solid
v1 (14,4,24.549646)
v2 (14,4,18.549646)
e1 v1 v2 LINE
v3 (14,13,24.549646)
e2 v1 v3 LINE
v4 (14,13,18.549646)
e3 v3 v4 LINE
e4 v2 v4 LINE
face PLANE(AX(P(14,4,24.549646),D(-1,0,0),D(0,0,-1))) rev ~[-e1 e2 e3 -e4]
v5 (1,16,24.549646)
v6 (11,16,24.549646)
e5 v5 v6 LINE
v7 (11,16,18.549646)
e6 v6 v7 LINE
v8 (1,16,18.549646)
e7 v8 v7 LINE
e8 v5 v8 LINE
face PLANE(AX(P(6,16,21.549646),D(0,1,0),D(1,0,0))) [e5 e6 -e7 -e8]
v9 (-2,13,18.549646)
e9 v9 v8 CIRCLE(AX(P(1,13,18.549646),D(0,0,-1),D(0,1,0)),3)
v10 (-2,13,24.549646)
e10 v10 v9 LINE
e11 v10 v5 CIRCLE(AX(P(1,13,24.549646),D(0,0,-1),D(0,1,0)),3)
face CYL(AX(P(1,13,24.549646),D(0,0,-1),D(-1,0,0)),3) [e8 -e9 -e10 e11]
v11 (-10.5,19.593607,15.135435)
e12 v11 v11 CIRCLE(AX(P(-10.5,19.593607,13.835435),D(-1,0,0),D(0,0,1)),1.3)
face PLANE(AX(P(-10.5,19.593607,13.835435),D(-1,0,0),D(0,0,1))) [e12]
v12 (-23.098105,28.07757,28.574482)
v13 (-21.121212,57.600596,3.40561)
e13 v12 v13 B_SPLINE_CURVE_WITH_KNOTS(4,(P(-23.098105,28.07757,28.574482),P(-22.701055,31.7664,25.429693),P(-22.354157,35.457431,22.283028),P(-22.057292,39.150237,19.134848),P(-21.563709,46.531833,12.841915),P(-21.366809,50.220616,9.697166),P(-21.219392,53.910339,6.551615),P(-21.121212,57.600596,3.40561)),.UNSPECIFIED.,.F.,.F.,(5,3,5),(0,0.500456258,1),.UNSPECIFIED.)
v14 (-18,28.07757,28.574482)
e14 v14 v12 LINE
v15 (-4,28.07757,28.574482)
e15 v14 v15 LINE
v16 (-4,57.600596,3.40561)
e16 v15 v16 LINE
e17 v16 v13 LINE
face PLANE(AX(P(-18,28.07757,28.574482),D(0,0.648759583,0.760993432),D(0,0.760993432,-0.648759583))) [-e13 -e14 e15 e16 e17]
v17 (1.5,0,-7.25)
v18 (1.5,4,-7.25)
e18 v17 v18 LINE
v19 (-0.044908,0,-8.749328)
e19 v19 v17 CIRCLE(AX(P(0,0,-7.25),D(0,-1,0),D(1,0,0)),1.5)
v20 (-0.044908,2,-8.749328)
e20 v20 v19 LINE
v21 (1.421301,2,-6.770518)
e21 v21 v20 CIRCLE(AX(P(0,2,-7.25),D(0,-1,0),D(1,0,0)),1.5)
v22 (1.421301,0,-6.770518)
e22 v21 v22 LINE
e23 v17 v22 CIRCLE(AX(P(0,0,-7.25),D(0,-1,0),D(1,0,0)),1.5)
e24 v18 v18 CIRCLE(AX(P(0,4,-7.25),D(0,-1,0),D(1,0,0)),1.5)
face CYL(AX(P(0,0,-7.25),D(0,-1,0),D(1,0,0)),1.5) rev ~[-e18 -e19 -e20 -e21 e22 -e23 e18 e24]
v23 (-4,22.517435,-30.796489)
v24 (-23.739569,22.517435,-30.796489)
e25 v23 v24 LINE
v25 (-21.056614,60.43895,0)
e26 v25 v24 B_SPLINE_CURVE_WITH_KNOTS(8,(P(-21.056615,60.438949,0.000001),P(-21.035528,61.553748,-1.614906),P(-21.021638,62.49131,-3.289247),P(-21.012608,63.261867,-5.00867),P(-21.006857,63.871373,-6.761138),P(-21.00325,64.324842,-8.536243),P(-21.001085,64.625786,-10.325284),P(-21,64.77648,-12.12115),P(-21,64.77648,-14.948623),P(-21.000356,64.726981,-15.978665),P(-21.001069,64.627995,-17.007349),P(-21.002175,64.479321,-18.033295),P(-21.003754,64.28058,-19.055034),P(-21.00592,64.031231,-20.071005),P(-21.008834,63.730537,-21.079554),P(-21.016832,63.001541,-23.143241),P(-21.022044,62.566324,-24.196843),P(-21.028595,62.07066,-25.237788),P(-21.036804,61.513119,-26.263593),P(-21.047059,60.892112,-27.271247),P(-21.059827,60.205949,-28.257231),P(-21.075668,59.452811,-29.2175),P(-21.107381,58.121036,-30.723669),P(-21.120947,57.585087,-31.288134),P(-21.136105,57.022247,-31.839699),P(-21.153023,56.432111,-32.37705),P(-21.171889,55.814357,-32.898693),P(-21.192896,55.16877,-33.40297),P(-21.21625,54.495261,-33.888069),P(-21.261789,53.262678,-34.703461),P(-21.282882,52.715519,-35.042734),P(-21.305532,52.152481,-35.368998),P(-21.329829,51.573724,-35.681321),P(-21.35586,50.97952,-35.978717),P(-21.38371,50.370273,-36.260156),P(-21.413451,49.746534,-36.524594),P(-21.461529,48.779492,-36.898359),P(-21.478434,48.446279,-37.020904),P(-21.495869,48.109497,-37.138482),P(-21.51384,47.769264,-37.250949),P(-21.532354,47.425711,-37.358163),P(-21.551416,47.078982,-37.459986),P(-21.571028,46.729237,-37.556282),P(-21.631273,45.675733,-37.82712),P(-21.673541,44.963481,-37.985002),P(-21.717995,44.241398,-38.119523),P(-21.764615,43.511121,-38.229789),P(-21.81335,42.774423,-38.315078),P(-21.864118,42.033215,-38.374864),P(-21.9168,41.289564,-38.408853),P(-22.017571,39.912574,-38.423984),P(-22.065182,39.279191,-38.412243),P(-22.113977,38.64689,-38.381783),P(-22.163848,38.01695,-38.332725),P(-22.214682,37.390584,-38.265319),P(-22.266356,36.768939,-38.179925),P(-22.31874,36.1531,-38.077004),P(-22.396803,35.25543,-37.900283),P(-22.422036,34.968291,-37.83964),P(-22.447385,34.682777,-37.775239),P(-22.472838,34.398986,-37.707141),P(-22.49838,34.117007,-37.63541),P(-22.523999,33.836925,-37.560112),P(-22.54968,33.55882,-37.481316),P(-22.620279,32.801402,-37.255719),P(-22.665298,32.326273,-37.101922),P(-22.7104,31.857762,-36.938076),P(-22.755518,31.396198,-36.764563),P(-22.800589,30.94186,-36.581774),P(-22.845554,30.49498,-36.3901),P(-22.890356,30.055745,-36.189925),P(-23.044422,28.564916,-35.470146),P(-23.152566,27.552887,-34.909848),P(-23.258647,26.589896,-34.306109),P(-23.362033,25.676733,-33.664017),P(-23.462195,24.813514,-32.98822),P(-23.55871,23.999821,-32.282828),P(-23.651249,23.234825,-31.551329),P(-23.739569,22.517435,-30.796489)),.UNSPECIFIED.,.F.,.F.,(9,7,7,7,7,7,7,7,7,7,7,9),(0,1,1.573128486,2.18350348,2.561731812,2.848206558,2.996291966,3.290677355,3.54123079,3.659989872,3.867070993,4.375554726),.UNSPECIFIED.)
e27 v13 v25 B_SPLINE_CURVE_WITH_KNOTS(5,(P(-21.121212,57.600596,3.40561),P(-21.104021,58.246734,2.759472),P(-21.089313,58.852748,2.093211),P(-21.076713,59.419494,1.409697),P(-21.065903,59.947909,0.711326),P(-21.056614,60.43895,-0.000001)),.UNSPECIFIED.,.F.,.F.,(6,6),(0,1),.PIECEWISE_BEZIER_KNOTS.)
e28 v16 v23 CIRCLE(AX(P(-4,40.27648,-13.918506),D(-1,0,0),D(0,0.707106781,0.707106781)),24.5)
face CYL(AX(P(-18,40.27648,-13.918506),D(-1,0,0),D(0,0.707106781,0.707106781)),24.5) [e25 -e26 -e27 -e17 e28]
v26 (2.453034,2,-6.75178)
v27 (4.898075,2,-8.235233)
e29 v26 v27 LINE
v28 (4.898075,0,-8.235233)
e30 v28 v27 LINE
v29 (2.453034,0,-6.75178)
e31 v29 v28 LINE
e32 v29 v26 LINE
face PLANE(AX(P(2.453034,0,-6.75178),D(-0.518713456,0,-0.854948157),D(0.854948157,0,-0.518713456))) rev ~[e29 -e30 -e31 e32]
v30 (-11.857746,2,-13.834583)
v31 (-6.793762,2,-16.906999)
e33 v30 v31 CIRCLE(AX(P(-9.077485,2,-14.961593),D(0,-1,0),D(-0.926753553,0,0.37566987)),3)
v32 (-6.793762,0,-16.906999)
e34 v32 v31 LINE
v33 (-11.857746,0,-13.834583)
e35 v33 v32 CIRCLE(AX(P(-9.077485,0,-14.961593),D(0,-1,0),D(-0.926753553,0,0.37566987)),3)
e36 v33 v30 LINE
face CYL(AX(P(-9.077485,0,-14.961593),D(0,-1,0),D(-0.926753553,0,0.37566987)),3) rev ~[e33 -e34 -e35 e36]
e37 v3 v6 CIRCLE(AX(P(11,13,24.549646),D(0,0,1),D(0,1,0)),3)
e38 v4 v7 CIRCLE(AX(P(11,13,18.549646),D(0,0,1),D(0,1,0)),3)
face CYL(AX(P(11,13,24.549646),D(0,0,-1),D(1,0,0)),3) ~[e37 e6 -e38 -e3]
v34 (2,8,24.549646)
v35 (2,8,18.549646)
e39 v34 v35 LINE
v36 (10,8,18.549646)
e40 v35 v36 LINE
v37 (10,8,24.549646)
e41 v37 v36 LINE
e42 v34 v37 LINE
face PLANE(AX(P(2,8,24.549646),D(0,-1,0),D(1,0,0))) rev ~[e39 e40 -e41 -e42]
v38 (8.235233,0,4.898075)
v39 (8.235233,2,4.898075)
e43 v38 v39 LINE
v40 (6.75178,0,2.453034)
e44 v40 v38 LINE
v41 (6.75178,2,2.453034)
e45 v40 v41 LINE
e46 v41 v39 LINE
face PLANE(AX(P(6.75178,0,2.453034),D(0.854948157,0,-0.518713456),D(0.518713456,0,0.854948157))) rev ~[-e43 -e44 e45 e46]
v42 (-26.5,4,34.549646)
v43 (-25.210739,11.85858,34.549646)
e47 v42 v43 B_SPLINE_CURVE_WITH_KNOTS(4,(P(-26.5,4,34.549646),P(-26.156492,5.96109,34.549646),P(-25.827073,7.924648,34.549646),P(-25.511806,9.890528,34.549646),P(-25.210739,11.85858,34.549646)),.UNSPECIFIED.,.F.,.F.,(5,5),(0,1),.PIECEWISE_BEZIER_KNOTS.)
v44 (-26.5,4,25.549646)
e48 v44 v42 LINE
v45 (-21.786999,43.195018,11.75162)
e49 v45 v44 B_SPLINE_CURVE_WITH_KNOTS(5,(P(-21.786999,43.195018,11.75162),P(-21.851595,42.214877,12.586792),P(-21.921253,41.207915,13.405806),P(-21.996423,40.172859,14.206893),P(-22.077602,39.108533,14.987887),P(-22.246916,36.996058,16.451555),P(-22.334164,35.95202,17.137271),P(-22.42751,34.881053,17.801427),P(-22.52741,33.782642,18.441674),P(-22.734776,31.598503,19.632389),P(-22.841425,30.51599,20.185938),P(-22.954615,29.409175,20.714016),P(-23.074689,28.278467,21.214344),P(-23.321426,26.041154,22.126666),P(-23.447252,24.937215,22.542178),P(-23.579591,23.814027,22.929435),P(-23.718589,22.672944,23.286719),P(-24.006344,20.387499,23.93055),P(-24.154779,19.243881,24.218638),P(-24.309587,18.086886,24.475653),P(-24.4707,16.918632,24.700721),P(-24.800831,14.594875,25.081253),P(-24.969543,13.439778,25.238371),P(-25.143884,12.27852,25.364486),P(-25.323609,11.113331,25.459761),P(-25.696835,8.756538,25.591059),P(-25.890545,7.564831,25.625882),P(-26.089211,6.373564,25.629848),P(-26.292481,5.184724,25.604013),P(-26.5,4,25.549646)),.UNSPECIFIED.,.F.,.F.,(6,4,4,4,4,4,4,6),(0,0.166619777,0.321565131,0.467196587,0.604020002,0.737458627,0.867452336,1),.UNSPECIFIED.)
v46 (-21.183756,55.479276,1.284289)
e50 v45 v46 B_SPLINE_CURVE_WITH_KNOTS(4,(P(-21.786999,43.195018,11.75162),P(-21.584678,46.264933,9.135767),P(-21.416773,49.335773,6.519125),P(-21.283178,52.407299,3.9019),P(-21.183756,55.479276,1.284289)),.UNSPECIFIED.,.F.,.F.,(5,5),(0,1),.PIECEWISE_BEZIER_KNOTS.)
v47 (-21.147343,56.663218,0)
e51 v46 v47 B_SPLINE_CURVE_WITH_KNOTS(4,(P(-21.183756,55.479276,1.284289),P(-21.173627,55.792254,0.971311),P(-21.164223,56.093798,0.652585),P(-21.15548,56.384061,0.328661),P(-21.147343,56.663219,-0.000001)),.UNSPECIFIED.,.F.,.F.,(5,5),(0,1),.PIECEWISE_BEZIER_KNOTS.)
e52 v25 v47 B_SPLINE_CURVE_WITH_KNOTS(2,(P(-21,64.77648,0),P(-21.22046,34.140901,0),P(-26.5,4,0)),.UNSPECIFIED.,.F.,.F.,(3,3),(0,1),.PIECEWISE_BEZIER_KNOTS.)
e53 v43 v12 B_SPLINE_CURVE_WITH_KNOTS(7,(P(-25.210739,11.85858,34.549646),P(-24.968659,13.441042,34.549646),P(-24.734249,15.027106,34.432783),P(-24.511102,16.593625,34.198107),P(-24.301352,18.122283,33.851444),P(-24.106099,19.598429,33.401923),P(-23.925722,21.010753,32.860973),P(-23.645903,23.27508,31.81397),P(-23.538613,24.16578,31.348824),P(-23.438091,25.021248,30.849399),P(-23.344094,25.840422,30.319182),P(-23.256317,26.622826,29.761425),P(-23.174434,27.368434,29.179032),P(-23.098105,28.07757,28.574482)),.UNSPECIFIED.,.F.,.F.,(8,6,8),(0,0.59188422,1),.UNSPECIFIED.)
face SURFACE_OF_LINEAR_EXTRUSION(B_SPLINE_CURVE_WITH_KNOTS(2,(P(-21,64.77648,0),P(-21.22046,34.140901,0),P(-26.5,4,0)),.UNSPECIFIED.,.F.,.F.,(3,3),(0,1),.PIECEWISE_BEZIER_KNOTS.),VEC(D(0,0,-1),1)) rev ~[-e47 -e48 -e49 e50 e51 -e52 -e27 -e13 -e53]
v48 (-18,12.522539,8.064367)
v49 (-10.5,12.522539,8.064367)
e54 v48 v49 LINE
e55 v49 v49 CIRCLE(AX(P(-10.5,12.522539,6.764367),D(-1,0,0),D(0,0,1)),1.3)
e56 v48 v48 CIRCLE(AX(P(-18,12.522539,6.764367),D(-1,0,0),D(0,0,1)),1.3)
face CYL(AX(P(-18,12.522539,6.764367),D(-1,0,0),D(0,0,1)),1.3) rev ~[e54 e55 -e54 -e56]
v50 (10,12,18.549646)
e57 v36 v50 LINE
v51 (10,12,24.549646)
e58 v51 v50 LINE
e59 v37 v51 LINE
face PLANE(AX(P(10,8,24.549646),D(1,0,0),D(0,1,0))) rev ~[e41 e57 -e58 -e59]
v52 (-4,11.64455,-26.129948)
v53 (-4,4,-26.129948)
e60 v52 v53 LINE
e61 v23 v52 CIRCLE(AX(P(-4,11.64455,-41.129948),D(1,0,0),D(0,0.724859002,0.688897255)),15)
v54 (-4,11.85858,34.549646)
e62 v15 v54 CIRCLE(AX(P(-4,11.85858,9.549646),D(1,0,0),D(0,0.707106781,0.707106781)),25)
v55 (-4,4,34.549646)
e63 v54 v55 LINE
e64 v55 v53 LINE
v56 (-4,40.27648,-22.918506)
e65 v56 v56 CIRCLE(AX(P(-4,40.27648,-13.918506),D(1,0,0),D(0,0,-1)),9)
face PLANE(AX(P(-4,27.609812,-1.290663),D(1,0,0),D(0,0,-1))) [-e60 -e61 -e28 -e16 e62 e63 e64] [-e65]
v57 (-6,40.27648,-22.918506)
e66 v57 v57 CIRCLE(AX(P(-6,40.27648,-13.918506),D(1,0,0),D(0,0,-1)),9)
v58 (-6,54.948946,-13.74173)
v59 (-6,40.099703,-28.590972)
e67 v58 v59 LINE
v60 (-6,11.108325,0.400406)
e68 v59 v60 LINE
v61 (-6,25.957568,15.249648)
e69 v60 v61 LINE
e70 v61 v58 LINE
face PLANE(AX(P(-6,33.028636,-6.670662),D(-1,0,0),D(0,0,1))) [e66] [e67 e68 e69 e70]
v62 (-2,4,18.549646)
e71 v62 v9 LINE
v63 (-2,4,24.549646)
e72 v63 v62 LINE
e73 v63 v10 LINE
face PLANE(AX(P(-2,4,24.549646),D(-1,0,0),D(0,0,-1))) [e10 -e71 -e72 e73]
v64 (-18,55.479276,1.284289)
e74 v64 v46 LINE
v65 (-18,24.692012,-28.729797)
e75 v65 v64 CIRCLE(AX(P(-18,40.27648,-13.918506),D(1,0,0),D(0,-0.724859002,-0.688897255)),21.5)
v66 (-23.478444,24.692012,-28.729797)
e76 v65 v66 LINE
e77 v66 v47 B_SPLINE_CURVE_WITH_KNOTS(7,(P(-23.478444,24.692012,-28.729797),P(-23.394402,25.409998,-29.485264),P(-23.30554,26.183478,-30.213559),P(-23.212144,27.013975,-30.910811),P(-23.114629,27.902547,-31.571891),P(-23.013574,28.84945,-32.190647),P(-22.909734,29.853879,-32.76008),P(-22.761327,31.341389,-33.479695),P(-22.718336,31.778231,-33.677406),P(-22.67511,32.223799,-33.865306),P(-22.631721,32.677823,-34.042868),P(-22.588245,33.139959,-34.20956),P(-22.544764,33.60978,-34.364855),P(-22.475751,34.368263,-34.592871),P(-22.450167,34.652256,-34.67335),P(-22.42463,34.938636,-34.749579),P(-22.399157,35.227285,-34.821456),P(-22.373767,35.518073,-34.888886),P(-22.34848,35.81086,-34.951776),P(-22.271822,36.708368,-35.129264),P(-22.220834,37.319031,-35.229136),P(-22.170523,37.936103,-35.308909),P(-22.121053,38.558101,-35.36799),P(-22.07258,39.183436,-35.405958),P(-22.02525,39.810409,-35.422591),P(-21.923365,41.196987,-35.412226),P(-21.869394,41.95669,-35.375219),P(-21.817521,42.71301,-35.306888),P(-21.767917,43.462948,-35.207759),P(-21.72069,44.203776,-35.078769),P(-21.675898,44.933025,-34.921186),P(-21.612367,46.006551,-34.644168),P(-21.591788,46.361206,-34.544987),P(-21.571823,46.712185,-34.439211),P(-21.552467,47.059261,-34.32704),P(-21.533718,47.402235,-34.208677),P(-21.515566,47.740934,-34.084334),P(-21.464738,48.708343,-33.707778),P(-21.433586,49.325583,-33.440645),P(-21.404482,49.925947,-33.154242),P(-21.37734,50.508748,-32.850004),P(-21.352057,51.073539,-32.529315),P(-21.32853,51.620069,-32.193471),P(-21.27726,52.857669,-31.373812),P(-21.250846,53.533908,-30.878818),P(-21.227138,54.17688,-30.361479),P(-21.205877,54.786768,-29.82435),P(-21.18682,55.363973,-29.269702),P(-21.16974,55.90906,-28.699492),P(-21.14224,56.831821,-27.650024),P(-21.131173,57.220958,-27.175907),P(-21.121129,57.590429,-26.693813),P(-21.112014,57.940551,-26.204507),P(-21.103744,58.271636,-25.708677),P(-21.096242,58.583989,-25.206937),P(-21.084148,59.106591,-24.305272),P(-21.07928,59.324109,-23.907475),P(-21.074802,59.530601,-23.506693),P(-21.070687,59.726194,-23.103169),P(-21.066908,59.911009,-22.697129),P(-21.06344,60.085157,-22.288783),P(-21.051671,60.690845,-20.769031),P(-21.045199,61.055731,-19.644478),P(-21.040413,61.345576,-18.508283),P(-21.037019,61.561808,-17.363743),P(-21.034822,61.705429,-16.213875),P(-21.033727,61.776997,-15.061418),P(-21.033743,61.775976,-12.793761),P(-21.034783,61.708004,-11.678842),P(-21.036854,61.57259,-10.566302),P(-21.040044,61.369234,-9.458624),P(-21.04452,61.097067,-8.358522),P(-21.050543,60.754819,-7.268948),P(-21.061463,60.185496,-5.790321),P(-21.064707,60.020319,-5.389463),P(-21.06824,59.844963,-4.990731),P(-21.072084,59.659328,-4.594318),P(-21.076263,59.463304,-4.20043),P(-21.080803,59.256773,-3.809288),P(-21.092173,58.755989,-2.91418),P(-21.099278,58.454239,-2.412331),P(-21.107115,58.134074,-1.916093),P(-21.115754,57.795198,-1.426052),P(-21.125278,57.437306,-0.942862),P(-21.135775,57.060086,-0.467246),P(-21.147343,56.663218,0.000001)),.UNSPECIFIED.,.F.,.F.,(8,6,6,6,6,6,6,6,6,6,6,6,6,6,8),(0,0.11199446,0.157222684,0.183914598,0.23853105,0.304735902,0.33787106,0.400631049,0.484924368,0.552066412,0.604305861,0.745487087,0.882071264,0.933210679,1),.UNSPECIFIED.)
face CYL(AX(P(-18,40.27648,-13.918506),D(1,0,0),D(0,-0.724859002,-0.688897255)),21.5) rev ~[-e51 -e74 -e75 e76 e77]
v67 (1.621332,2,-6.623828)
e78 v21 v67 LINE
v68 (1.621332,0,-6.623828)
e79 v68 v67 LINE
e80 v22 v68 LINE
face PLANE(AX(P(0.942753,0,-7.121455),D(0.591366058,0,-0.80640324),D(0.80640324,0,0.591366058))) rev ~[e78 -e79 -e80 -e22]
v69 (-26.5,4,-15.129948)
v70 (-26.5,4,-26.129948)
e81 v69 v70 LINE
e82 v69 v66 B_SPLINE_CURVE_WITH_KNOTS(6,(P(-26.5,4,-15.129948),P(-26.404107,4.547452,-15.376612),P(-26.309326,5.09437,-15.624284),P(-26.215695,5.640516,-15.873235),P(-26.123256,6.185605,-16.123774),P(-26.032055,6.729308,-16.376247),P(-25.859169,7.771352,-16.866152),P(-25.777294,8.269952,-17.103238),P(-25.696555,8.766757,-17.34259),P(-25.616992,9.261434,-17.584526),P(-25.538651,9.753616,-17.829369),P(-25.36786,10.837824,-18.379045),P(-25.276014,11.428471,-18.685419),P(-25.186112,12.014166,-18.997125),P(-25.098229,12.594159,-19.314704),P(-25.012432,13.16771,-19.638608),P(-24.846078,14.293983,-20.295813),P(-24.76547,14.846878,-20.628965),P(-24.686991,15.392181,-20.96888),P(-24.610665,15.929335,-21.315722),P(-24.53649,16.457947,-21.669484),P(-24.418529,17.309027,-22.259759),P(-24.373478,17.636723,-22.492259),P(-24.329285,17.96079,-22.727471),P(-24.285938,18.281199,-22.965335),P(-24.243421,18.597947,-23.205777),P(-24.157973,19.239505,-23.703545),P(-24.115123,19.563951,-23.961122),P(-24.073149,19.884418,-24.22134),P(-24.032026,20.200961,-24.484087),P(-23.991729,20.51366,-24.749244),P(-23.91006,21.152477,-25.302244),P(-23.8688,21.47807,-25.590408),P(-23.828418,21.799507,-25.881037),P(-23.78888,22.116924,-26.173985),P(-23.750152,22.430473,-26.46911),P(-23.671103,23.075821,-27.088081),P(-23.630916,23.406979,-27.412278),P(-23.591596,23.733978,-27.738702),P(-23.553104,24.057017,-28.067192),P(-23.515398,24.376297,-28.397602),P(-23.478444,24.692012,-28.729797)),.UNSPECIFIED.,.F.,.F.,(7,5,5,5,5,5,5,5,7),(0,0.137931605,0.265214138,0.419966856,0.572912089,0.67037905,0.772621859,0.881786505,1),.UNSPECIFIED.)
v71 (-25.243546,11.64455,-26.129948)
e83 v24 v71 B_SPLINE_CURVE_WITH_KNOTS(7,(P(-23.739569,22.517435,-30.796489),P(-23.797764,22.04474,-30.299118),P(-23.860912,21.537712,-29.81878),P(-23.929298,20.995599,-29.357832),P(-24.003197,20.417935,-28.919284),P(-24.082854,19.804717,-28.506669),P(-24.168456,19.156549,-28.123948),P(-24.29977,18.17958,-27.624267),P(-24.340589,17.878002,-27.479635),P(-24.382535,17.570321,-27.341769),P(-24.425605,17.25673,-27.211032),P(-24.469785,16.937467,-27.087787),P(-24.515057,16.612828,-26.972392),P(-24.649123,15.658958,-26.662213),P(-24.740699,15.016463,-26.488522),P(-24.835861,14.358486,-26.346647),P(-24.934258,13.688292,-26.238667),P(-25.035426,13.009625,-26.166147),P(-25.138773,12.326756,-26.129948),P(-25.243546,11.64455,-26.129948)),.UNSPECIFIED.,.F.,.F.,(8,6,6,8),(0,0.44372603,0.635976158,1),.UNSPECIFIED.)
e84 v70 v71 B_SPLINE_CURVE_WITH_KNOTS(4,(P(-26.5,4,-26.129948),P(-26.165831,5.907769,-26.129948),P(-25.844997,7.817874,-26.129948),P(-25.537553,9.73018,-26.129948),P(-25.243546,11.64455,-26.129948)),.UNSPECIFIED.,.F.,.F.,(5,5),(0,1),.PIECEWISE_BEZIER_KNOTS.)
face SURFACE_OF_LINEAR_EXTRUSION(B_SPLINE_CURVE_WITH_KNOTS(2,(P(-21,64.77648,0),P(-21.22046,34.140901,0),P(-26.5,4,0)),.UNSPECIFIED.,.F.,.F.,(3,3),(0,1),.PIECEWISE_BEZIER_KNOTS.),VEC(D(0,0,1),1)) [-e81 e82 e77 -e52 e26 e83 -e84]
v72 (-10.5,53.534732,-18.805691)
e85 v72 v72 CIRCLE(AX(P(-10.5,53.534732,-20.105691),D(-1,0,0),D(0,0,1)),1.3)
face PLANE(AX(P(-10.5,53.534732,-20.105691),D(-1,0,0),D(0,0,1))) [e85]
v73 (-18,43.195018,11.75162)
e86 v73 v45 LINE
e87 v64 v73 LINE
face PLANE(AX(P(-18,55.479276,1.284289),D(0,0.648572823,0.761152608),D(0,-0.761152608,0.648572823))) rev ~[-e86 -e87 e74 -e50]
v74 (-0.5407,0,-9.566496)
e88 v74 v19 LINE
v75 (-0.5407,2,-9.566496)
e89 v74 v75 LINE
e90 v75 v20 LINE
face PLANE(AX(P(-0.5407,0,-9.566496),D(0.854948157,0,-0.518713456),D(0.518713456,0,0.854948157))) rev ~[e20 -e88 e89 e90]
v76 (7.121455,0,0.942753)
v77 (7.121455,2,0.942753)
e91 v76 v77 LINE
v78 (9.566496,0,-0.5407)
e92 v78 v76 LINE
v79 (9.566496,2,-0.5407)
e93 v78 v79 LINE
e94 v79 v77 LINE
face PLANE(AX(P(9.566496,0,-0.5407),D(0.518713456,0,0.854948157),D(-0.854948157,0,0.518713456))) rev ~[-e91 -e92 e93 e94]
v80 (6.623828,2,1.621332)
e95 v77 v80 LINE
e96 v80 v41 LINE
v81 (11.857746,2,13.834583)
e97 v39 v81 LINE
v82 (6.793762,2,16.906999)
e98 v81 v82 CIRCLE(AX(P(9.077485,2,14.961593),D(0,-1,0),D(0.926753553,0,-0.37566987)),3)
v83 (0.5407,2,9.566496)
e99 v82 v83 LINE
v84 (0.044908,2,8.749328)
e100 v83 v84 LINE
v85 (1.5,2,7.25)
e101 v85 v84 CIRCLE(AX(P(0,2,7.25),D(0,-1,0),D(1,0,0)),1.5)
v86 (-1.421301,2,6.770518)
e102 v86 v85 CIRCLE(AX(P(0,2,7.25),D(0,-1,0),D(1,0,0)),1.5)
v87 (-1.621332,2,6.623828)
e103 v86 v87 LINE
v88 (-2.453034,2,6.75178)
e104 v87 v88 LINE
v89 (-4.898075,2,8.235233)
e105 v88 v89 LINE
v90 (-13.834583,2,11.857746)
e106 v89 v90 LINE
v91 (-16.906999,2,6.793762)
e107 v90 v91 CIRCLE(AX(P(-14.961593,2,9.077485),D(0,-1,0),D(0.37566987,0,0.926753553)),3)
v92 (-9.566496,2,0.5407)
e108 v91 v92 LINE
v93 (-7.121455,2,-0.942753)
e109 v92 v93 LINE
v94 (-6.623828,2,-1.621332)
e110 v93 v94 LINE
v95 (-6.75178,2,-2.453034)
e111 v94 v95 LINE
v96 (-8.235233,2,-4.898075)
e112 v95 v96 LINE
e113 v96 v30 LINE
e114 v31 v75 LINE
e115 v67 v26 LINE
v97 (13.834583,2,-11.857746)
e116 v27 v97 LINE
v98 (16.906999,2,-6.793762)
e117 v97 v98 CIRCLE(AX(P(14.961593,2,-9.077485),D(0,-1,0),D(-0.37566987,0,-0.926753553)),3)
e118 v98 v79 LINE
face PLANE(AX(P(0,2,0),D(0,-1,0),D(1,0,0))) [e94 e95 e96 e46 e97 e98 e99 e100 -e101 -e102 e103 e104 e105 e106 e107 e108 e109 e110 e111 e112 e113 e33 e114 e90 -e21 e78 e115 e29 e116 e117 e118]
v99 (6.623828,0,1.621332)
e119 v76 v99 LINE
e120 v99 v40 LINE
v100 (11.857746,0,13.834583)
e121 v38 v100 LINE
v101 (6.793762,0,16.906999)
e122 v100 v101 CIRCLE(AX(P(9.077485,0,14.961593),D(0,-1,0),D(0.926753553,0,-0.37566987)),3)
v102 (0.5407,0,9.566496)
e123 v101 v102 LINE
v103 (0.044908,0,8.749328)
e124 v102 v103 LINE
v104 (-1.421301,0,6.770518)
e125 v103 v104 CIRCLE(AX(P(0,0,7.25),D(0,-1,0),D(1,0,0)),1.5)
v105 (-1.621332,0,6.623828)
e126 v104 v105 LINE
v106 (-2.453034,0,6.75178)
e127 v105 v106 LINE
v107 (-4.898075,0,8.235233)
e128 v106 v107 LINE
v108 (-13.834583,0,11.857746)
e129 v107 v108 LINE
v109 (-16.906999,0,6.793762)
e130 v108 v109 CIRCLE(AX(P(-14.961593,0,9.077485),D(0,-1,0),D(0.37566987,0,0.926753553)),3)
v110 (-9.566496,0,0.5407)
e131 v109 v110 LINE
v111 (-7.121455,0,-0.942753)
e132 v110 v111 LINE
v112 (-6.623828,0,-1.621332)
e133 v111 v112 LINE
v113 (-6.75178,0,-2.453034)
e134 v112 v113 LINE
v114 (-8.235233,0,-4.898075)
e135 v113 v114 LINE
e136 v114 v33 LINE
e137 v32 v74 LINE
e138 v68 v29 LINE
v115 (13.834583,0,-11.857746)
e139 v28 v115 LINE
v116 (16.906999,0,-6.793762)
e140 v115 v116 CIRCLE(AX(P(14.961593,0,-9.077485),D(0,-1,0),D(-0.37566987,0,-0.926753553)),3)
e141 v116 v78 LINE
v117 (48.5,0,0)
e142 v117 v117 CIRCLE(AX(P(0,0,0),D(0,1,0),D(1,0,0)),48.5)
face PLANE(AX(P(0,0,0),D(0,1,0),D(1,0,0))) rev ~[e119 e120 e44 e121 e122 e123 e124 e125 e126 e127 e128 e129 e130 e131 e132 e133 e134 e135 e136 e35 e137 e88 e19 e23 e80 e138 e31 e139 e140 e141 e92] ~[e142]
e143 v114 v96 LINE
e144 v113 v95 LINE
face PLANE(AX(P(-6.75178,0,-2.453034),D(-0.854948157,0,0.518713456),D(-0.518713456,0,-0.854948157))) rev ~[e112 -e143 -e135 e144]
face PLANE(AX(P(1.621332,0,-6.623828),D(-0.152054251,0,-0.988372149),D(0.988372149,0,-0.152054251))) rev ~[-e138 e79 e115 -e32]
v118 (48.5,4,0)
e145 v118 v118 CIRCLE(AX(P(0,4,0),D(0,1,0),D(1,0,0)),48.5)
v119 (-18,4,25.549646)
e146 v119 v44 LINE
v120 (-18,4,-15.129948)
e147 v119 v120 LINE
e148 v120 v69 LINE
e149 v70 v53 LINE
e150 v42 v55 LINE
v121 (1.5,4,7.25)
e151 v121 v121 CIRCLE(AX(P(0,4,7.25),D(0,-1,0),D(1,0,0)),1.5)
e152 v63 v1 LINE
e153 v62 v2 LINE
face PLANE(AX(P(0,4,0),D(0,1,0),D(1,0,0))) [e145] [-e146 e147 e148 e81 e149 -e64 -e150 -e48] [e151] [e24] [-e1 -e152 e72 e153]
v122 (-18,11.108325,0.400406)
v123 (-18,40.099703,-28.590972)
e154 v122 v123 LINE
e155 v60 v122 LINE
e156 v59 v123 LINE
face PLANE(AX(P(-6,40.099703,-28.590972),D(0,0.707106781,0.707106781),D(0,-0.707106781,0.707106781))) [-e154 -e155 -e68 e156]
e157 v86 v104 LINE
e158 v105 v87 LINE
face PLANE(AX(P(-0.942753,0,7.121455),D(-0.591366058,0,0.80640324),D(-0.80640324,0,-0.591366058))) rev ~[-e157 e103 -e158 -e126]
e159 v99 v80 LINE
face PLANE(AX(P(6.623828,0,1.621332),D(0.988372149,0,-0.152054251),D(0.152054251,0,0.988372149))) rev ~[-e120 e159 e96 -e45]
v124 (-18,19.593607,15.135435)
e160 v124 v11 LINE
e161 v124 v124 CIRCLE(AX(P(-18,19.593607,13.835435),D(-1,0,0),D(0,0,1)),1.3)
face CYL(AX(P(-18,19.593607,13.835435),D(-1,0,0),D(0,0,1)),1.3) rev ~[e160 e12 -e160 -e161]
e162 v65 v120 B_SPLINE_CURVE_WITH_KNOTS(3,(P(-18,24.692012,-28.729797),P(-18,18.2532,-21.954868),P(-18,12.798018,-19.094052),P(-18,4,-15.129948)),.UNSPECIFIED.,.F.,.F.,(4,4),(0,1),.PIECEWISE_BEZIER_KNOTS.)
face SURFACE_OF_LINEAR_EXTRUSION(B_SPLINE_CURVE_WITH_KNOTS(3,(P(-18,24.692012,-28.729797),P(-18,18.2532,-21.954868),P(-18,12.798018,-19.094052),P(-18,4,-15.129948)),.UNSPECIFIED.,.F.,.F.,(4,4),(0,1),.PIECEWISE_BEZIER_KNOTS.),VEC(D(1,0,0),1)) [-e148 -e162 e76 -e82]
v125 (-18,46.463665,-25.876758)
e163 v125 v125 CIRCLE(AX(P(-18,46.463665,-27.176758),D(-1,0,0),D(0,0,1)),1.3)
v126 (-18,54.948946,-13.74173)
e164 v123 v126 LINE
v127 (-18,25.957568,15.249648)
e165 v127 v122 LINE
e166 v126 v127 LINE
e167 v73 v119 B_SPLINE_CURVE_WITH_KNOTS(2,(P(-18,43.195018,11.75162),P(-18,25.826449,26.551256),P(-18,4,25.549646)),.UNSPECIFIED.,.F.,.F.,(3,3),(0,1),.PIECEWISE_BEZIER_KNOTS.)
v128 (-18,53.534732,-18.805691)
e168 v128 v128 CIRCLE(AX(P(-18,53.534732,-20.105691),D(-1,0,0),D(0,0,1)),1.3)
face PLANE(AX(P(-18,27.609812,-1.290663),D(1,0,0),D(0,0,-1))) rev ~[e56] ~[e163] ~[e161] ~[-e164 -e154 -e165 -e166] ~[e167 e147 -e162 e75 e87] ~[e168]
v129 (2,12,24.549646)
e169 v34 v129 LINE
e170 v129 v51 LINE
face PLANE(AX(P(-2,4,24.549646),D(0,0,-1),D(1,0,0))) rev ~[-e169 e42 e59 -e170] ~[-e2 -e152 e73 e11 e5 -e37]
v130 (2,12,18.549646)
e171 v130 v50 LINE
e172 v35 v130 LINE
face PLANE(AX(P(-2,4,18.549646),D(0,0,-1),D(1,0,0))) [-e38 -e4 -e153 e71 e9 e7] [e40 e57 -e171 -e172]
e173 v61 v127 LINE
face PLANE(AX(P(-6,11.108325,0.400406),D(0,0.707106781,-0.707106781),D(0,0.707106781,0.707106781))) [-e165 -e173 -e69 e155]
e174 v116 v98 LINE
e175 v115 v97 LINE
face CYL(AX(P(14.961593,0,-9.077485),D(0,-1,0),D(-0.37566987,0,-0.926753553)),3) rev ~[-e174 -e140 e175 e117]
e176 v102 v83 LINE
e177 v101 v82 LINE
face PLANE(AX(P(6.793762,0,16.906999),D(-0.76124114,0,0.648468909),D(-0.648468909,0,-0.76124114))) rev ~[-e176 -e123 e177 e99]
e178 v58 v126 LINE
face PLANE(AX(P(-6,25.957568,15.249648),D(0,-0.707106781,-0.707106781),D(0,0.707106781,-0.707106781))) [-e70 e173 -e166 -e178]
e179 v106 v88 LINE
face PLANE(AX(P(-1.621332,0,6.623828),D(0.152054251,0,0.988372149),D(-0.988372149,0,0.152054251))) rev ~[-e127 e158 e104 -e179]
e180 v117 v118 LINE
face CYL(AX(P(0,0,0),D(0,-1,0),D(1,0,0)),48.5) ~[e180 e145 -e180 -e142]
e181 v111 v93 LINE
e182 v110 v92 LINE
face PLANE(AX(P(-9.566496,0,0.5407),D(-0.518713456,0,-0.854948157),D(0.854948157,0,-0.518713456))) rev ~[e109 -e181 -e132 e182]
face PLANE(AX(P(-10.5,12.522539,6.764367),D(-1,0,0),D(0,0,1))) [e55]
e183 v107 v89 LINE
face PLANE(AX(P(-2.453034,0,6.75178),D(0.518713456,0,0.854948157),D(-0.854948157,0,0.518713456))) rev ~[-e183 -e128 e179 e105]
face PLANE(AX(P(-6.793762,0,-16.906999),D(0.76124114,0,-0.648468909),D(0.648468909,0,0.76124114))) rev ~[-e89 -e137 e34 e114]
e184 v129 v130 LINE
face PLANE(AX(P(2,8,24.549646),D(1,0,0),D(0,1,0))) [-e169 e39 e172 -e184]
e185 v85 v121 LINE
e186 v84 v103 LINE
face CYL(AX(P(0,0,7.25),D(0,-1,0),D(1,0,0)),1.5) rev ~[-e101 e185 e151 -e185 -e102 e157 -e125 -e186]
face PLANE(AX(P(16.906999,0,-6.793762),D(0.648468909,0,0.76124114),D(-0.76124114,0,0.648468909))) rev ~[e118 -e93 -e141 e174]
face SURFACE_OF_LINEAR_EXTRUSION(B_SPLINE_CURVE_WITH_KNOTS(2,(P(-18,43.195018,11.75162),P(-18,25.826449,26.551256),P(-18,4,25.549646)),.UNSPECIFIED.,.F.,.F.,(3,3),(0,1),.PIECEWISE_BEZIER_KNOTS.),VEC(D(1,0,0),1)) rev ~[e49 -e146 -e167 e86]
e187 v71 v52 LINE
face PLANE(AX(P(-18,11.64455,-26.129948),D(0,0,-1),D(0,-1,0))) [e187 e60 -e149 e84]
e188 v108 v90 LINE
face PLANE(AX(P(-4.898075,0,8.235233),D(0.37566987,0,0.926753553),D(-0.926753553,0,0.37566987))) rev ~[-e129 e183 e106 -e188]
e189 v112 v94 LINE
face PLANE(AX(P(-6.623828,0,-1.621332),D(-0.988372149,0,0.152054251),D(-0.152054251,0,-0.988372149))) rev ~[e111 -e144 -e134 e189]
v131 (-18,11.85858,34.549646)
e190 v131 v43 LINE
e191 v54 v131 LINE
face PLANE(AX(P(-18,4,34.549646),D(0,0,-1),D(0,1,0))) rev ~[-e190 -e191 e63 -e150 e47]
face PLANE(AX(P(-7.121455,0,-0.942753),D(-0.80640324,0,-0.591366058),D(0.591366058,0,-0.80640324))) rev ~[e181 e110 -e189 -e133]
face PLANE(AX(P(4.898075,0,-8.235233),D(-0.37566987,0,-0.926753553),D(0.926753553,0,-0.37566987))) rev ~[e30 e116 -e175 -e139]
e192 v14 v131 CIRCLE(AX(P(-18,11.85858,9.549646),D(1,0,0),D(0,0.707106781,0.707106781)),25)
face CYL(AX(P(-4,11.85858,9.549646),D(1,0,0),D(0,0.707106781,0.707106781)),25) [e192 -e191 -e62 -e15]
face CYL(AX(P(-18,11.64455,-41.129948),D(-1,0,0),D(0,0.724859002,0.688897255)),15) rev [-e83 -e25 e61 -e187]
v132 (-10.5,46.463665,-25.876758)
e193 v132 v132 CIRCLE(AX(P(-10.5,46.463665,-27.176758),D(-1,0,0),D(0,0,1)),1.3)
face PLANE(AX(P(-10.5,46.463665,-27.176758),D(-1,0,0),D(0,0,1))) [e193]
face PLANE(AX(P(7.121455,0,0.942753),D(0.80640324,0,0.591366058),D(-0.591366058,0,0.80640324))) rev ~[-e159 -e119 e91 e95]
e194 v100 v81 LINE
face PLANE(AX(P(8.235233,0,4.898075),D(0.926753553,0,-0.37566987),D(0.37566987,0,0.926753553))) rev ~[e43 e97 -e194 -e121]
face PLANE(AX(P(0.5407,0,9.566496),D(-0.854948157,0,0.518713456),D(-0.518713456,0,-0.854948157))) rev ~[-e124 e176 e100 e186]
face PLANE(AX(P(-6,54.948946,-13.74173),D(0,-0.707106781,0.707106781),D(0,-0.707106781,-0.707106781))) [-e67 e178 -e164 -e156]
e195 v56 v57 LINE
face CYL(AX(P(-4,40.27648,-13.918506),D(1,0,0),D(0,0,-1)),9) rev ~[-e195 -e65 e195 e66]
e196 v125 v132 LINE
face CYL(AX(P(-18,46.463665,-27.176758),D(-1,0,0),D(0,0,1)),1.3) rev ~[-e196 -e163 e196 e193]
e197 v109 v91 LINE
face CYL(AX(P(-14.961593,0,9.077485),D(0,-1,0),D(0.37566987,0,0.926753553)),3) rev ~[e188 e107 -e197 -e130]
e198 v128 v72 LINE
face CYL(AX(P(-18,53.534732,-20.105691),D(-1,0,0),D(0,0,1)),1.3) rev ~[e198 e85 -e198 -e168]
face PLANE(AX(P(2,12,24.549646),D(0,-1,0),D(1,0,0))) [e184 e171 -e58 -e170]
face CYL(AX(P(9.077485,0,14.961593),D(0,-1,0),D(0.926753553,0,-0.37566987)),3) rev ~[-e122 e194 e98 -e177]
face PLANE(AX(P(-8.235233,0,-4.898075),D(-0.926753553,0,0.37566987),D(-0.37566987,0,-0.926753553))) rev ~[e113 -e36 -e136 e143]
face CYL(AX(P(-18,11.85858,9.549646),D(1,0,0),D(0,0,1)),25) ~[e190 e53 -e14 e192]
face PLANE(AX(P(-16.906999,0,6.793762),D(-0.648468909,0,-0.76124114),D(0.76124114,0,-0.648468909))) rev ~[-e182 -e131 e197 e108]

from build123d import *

# Parameters (mm, degrees)
SKETCH2_R                = 48.5
BOSS_EXTRUDE1_DEPTH      = 4
SKETCH4_R                = 1.5
CUT_EXTRUDE2_DEPTH       = 5
SKETCH5_R                = 3.75
CUT_EXTRUDE3_DEPTH       = 1.5
BOSS_EXTRUDE2_DEPTH      = 14
CUT_EXTRUDE5_REACH       = 44.5
SKETCH9_R                = 1.3
CUT_EXTRUDE6_DEPTH       = 7.5
CUT_EXTRUDE9_REACH       = 46.5
SKETCH11_R               = 9
BOSS_EXTRUDE7_DEPTH      = 9
BOSS_EXTRUDE7_DEPTH_BACK = 14
BOSS_EXTRUDE10_DEPTH     = 9
SKETCH27_W               = 16
SKETCH27_H               = 6
BOSS_EXTRUDE11_DEPTH     = 12
FILLET6_R                = 3
CUT_EXTRUDE16_REACH      = 75.05
SKETCH28_W               = 8
SKETCH28_H               = 4
CUT_EXTRUDE17_DEPTH      = 49.5
CUT_EXTRUDE17_DEPTH_BACK = 49.5
CUT_EXTRUDE19_DEPTH      = 2


with BuildPart() as part:
    # Sketch2 → Boss-Extrude1 (new body)
    with BuildSketch(Plane(origin=(0, 0, 0), x_dir=(1, 0, 0), z_dir=(0, 1, 0))):
        Circle(SKETCH2_R)
    extrude(amount=BOSS_EXTRUDE1_DEPTH)

    # Sketch4 → Cut-Extrude2 (cut, through all)
    with BuildSketch(Plane.XZ):
        with Locations((0, 7.25)):
            Circle(SKETCH4_R)
        with Locations((0, -7.25)):
            Circle(SKETCH4_R)
    extrude(amount=-CUT_EXTRUDE2_DEPTH, mode=Mode.SUBTRACT)

    # Sketch5 → Cut-Extrude3 (cut)
    with BuildSketch(Plane.XZ):
        Circle(SKETCH5_R)
    extrude(amount=-CUT_EXTRUDE3_DEPTH, mode=Mode.SUBTRACT)

    # Sketch7 → Boss-Extrude2 (add)
    with BuildSketch(Plane(origin=(-4, 0, 0), x_dir=(0, 0, -1), z_dir=(1, 0, 0))):
        with BuildLine():
            Line((23.129947874, 4), (23.129947874, 11.644549616))
            ThreePointArc((23.129947874, 11.644549616), (24.589048403, 18.743749901), (28.729797284, 24.692011643))
            ThreePointArc((28.729797284, 24.692011643), (29.313383054, 55.284736897), (-1.284289494, 55.479275971))
            Line((-1.284289494, 55.479275971), (-27.227315747, 29.536249718))
            ThreePointArc((-27.227315747, 29.536249718), (-32.64663453, 21.425665997), (-34.549646217, 11.858580188))
            Line((-34.549646217, 11.858580188), (-34.549646217, 4))
            Line((-34.549646217, 4), (23.129947874, 4))
        make_face()
    extrude(amount=-BOSS_EXTRUDE2_DEPTH)

    # Sketch8 → Cut-Extrude5 (cut, up to next)
    with BuildSketch(Plane(origin=(-6, 0, 0), x_dir=(0, 0, -1), z_dir=(1, 0, 0)), mode=Mode.PRIVATE) as cut_extrude5_sk1:
        Polygon((-15.249648422, 25.957567857), (13.741729607, 54.948945886), (28.590972012, 40.099703481), (-0.400406017, 11.108325452), align=None)
    cut_extrude5_tool1 = extrude(cut_extrude5_sk1.sketch, amount=-CUT_EXTRUDE5_REACH, mode=Mode.PRIVATE) & part.part
    add(cut_extrude5_tool1.solids().sort_by_distance((-6, 33.028636, -6.670662))[0], mode=Mode.SUBTRACT)

    # Sketch9 → Cut-Extrude6 (cut)
    with BuildSketch(Plane.ZY.offset(18)):
        with Locations((-20.105690637, 53.534732323)):
            Circle(SKETCH9_R)
        with Locations((-27.176758449, 46.463664511)):
            Circle(SKETCH9_R)
        with Locations((6.764367048, 12.522539014)):
            Circle(SKETCH9_R)
        with Locations((13.83543486, 19.593606826)):
            Circle(SKETCH9_R)
    extrude(amount=-CUT_EXTRUDE6_DEPTH, mode=Mode.SUBTRACT)

    # Sketch11 → Cut-Extrude9 (cut, up to next)
    with BuildSketch(Plane(origin=(-4, 0, 0), x_dir=(0, 0, -1), z_dir=(1, 0, 0)), mode=Mode.PRIVATE) as cut_extrude9_sk1:
        with Locations((13.918506302, 40.276480176)):
            Circle(SKETCH11_R)
    cut_extrude9_tool1 = extrude(cut_extrude9_sk1.sketch, amount=-CUT_EXTRUDE9_REACH, mode=Mode.PRIVATE) & part.part
    add(cut_extrude9_tool1.solids().sort_by_distance((-4, 40.27648, -13.918506))[0], mode=Mode.SUBTRACT)

    # Sketch17 → Boss-Extrude7 (add, two sides)
    with BuildSketch(Plane.ZY.offset(18)) as boss_extrude7_sk:
        with BuildLine():
            ThreePointArc((34.549646217, 11.858580188), (33.008342843, 20.500891953), (28.574482006, 28.077569775))
            ThreePointArc((28.574482006, 28.077569775), (27.915386359, 28.820289685), (27.227315747, 29.536249718))
            Line((27.227315747, 29.536249718), (1.284289494, 55.479275971))
            Line((1.284289494, 55.479275971), (26.295003593, 26.127182305))
            ThreePointArc((26.295003593, 26.127182305), (30.194232218, 19.461281607), (31.549646217, 11.858580188))
            Line((31.549646217, 11.858580188), (31.549646217, 4))
            Line((31.549646217, 4), (34.549646217, 4))
            Line((34.549646217, 4), (34.549646217, 11.858580188))
        make_face()
        with BuildLine():
            Line((28.574482006, 28.077569775), (3.405609837, 57.600596315))
            ThreePointArc((3.405609837, 57.600596315), (-31.461505391, 57.378912253), (-30.796489049, 22.517434639))
            ThreePointArc((-30.796489049, 22.517434639), (-27.345864981, 17.560549854), (-26.129947874, 11.644549616))
            Line((-26.129947874, 11.644549616), (-26.129947874, 4))
            Line((-26.129947874, 4), (-23.129947874, 4))
            Line((-23.129947874, 4), (-23.129947874, 11.644549616))
            ThreePointArc((-23.129947874, 11.644549616), (-24.589048403, 18.743749901), (-28.729797284, 24.692011643))
            ThreePointArc((-28.729797284, 24.692011643), (-29.313383054, 55.284736897), (1.284289494, 55.479275971))
            Line((1.284289494, 55.479275971), (27.227315747, 29.536249718))
            ThreePointArc((27.227315747, 29.536249718), (27.915386359, 28.820289685), (28.574482006, 28.077569775))
        make_face()
    extrude(amount=BOSS_EXTRUDE7_DEPTH)
    extrude(boss_extrude7_sk.sketch, amount=-BOSS_EXTRUDE7_DEPTH_BACK)

    # Sketch25 → Boss-Extrude10 (add)
    with BuildSketch(Plane.ZY.offset(18)):
        with BuildLine():
            ThreePointArc((-28.729797284, 24.692011643), (-24.589048403, 18.743749901), (-23.129947874, 11.644549616))
            Line((-23.129947874, 11.644549616), (-23.129947874, 4))
            Line((-23.129947874, 4), (-15.129947874, 4))
            add(Edge.make_bspline(
                [(-28.729797284, 24.692011643), (-21.954867515, 18.253200081), (-19.09405247, 12.798017691), (-15.129947874, 4)],
                knots=[0, 0, 0, 0, 1, 1, 1, 1], degree=3))
        make_face()
        with BuildLine():
            add(Edge.make_bspline(
                [(11.751619577, 43.19501844), (26.551255916, 25.8264495), (25.549646217, 4)],
                knots=[0, 0, 0, 1, 1, 1], degree=2))
            Line((25.549646217, 4), (31.549646217, 4))
            Line((31.549646217, 4), (31.549646217, 11.858580188))
            ThreePointArc((31.549646217, 11.858580188), (30.194232218, 19.461281607), (26.295003593, 26.127182305))
            Line((26.295003593, 26.127182305), (11.751619577, 43.19501844))
        make_face()
    extrude(amount=BOSS_EXTRUDE10_DEPTH)

    # Sketch27 → Boss-Extrude11 (add)
    with BuildSketch(Plane(origin=(0, 4, 0), x_dir=(1, 0, 0), z_dir=(0, 1, 0))):
        with Locations((6, -21.549646217)):
            Rectangle(SKETCH27_W, SKETCH27_H)
    extrude(amount=BOSS_EXTRUDE11_DEPTH)

    # Fillet6
    fillet6_edges = [part.edges().sort_by_distance(p)[0] for p in [
        (-2, 16, 21.549646217),
        (14, 16, 21.549646217),
    ]]
    fillet(fillet6_edges, radius=FILLET6_R)

    # Sketch28 → Cut-Extrude16 (cut, up to next)
    with BuildSketch(Plane.XY.offset(24.549646217), mode=Mode.PRIVATE) as cut_extrude16_sk1:
        with Locations((6, 10)):
            Rectangle(SKETCH28_W, SKETCH28_H)
    cut_extrude16_tool1 = extrude(cut_extrude16_sk1.sketch, amount=-CUT_EXTRUDE16_REACH, mode=Mode.PRIVATE) & part.part
    add(cut_extrude16_tool1.solids().sort_by_distance((6, 10, 24.549646))[0], mode=Mode.SUBTRACT)

    # Sketch29 → Cut-Extrude17 (cut, two sides)
    with BuildSketch(Plane.XY) as cut_extrude17_sk:
        with BuildLine():
            Line((-21, 64.776480176), (-27, 64.776480176))
            Line((-27, 64.776480176), (-27, 4))
            Line((-27, 4), (-26.5, 4))
            add(Edge.make_bspline(
                [(-21, 64.776480176), (-21.220459696, 34.140901434), (-26.5, 4)],
                knots=[0, 0, 0, 1, 1, 1], degree=2))
        make_face()
    extrude(amount=CUT_EXTRUDE17_DEPTH, mode=Mode.SUBTRACT)
    extrude(cut_extrude17_sk.sketch, amount=-CUT_EXTRUDE17_DEPTH_BACK, mode=Mode.SUBTRACT)

    # Sketch30 → Cut-Extrude19 (cut)
    with BuildSketch(Plane.XZ):
        with BuildLine():
            Line((-1.621331548, 6.623828248), (-2.453034191, 6.751779974))
            Line((-2.453034191, 6.751779974), (-4.898074614, 8.235232927))
            Line((-4.898074614, 8.235232927), (-13.834583132, 11.85774614))
            ThreePointArc((-13.834583132, 11.85774614), (-17.526437212, 10.633625847), (-16.906999469, 6.793762058))
            Line((-16.906999469, 6.793762058), (-9.566495717, 0.540699516))
            Line((-9.566495717, 0.540699516), (-7.121455294, -0.942753437))
            Line((-7.121455294, -0.942753437), (-6.623828248, -1.621331548))
            Line((-6.623828248, -1.621331548), (-6.751779974, -2.453034191))
            Line((-6.751779974, -2.453034191), (-8.235232927, -4.898074614))
            Line((-8.235232927, -4.898074614), (-11.85774614, -13.834583132))
            ThreePointArc((-11.85774614, -13.834583132), (-10.633625847, -17.526437212), (-6.793762058, -16.906999469))
            Line((-6.793762058, -16.906999469), (-0.540699516, -9.566495717))
            Line((-0.540699516, -9.566495717), (0.942753437, -7.121455294))
            Line((0.942753437, -7.121455294), (1.621331548, -6.623828248))
            Line((1.621331548, -6.623828248), (2.453034191, -6.751779974))
            Line((2.453034191, -6.751779974), (4.898074614, -8.235232927))
            Line((4.898074614, -8.235232927), (13.834583132, -11.85774614))
            ThreePointArc((13.834583132, -11.85774614), (17.526437212, -10.633625847), (16.906999469, -6.793762058))
            Line((16.906999469, -6.793762058), (9.566495717, -0.540699516))
            Line((9.566495717, -0.540699516), (7.121455294, 0.942753437))
            Line((7.121455294, 0.942753437), (6.623828248, 1.621331548))
            Line((6.623828248, 1.621331548), (6.751779974, 2.453034191))
            Line((6.751779974, 2.453034191), (8.235232927, 4.898074614))
            Line((8.235232927, 4.898074614), (11.85774614, 13.834583132))
            ThreePointArc((11.85774614, 13.834583132), (10.633625847, 17.526437212), (6.793762058, 16.906999469))
            Line((6.793762058, 16.906999469), (0.540699516, 9.566495717))
            Line((0.540699516, 9.566495717), (-0.942753437, 7.121455294))
            Line((-0.942753437, 7.121455294), (-1.621331548, 6.623828248))
        make_face()
    extrude(amount=-CUT_EXTRUDE19_DEPTH, mode=Mode.SUBTRACT)


solid = part.part
